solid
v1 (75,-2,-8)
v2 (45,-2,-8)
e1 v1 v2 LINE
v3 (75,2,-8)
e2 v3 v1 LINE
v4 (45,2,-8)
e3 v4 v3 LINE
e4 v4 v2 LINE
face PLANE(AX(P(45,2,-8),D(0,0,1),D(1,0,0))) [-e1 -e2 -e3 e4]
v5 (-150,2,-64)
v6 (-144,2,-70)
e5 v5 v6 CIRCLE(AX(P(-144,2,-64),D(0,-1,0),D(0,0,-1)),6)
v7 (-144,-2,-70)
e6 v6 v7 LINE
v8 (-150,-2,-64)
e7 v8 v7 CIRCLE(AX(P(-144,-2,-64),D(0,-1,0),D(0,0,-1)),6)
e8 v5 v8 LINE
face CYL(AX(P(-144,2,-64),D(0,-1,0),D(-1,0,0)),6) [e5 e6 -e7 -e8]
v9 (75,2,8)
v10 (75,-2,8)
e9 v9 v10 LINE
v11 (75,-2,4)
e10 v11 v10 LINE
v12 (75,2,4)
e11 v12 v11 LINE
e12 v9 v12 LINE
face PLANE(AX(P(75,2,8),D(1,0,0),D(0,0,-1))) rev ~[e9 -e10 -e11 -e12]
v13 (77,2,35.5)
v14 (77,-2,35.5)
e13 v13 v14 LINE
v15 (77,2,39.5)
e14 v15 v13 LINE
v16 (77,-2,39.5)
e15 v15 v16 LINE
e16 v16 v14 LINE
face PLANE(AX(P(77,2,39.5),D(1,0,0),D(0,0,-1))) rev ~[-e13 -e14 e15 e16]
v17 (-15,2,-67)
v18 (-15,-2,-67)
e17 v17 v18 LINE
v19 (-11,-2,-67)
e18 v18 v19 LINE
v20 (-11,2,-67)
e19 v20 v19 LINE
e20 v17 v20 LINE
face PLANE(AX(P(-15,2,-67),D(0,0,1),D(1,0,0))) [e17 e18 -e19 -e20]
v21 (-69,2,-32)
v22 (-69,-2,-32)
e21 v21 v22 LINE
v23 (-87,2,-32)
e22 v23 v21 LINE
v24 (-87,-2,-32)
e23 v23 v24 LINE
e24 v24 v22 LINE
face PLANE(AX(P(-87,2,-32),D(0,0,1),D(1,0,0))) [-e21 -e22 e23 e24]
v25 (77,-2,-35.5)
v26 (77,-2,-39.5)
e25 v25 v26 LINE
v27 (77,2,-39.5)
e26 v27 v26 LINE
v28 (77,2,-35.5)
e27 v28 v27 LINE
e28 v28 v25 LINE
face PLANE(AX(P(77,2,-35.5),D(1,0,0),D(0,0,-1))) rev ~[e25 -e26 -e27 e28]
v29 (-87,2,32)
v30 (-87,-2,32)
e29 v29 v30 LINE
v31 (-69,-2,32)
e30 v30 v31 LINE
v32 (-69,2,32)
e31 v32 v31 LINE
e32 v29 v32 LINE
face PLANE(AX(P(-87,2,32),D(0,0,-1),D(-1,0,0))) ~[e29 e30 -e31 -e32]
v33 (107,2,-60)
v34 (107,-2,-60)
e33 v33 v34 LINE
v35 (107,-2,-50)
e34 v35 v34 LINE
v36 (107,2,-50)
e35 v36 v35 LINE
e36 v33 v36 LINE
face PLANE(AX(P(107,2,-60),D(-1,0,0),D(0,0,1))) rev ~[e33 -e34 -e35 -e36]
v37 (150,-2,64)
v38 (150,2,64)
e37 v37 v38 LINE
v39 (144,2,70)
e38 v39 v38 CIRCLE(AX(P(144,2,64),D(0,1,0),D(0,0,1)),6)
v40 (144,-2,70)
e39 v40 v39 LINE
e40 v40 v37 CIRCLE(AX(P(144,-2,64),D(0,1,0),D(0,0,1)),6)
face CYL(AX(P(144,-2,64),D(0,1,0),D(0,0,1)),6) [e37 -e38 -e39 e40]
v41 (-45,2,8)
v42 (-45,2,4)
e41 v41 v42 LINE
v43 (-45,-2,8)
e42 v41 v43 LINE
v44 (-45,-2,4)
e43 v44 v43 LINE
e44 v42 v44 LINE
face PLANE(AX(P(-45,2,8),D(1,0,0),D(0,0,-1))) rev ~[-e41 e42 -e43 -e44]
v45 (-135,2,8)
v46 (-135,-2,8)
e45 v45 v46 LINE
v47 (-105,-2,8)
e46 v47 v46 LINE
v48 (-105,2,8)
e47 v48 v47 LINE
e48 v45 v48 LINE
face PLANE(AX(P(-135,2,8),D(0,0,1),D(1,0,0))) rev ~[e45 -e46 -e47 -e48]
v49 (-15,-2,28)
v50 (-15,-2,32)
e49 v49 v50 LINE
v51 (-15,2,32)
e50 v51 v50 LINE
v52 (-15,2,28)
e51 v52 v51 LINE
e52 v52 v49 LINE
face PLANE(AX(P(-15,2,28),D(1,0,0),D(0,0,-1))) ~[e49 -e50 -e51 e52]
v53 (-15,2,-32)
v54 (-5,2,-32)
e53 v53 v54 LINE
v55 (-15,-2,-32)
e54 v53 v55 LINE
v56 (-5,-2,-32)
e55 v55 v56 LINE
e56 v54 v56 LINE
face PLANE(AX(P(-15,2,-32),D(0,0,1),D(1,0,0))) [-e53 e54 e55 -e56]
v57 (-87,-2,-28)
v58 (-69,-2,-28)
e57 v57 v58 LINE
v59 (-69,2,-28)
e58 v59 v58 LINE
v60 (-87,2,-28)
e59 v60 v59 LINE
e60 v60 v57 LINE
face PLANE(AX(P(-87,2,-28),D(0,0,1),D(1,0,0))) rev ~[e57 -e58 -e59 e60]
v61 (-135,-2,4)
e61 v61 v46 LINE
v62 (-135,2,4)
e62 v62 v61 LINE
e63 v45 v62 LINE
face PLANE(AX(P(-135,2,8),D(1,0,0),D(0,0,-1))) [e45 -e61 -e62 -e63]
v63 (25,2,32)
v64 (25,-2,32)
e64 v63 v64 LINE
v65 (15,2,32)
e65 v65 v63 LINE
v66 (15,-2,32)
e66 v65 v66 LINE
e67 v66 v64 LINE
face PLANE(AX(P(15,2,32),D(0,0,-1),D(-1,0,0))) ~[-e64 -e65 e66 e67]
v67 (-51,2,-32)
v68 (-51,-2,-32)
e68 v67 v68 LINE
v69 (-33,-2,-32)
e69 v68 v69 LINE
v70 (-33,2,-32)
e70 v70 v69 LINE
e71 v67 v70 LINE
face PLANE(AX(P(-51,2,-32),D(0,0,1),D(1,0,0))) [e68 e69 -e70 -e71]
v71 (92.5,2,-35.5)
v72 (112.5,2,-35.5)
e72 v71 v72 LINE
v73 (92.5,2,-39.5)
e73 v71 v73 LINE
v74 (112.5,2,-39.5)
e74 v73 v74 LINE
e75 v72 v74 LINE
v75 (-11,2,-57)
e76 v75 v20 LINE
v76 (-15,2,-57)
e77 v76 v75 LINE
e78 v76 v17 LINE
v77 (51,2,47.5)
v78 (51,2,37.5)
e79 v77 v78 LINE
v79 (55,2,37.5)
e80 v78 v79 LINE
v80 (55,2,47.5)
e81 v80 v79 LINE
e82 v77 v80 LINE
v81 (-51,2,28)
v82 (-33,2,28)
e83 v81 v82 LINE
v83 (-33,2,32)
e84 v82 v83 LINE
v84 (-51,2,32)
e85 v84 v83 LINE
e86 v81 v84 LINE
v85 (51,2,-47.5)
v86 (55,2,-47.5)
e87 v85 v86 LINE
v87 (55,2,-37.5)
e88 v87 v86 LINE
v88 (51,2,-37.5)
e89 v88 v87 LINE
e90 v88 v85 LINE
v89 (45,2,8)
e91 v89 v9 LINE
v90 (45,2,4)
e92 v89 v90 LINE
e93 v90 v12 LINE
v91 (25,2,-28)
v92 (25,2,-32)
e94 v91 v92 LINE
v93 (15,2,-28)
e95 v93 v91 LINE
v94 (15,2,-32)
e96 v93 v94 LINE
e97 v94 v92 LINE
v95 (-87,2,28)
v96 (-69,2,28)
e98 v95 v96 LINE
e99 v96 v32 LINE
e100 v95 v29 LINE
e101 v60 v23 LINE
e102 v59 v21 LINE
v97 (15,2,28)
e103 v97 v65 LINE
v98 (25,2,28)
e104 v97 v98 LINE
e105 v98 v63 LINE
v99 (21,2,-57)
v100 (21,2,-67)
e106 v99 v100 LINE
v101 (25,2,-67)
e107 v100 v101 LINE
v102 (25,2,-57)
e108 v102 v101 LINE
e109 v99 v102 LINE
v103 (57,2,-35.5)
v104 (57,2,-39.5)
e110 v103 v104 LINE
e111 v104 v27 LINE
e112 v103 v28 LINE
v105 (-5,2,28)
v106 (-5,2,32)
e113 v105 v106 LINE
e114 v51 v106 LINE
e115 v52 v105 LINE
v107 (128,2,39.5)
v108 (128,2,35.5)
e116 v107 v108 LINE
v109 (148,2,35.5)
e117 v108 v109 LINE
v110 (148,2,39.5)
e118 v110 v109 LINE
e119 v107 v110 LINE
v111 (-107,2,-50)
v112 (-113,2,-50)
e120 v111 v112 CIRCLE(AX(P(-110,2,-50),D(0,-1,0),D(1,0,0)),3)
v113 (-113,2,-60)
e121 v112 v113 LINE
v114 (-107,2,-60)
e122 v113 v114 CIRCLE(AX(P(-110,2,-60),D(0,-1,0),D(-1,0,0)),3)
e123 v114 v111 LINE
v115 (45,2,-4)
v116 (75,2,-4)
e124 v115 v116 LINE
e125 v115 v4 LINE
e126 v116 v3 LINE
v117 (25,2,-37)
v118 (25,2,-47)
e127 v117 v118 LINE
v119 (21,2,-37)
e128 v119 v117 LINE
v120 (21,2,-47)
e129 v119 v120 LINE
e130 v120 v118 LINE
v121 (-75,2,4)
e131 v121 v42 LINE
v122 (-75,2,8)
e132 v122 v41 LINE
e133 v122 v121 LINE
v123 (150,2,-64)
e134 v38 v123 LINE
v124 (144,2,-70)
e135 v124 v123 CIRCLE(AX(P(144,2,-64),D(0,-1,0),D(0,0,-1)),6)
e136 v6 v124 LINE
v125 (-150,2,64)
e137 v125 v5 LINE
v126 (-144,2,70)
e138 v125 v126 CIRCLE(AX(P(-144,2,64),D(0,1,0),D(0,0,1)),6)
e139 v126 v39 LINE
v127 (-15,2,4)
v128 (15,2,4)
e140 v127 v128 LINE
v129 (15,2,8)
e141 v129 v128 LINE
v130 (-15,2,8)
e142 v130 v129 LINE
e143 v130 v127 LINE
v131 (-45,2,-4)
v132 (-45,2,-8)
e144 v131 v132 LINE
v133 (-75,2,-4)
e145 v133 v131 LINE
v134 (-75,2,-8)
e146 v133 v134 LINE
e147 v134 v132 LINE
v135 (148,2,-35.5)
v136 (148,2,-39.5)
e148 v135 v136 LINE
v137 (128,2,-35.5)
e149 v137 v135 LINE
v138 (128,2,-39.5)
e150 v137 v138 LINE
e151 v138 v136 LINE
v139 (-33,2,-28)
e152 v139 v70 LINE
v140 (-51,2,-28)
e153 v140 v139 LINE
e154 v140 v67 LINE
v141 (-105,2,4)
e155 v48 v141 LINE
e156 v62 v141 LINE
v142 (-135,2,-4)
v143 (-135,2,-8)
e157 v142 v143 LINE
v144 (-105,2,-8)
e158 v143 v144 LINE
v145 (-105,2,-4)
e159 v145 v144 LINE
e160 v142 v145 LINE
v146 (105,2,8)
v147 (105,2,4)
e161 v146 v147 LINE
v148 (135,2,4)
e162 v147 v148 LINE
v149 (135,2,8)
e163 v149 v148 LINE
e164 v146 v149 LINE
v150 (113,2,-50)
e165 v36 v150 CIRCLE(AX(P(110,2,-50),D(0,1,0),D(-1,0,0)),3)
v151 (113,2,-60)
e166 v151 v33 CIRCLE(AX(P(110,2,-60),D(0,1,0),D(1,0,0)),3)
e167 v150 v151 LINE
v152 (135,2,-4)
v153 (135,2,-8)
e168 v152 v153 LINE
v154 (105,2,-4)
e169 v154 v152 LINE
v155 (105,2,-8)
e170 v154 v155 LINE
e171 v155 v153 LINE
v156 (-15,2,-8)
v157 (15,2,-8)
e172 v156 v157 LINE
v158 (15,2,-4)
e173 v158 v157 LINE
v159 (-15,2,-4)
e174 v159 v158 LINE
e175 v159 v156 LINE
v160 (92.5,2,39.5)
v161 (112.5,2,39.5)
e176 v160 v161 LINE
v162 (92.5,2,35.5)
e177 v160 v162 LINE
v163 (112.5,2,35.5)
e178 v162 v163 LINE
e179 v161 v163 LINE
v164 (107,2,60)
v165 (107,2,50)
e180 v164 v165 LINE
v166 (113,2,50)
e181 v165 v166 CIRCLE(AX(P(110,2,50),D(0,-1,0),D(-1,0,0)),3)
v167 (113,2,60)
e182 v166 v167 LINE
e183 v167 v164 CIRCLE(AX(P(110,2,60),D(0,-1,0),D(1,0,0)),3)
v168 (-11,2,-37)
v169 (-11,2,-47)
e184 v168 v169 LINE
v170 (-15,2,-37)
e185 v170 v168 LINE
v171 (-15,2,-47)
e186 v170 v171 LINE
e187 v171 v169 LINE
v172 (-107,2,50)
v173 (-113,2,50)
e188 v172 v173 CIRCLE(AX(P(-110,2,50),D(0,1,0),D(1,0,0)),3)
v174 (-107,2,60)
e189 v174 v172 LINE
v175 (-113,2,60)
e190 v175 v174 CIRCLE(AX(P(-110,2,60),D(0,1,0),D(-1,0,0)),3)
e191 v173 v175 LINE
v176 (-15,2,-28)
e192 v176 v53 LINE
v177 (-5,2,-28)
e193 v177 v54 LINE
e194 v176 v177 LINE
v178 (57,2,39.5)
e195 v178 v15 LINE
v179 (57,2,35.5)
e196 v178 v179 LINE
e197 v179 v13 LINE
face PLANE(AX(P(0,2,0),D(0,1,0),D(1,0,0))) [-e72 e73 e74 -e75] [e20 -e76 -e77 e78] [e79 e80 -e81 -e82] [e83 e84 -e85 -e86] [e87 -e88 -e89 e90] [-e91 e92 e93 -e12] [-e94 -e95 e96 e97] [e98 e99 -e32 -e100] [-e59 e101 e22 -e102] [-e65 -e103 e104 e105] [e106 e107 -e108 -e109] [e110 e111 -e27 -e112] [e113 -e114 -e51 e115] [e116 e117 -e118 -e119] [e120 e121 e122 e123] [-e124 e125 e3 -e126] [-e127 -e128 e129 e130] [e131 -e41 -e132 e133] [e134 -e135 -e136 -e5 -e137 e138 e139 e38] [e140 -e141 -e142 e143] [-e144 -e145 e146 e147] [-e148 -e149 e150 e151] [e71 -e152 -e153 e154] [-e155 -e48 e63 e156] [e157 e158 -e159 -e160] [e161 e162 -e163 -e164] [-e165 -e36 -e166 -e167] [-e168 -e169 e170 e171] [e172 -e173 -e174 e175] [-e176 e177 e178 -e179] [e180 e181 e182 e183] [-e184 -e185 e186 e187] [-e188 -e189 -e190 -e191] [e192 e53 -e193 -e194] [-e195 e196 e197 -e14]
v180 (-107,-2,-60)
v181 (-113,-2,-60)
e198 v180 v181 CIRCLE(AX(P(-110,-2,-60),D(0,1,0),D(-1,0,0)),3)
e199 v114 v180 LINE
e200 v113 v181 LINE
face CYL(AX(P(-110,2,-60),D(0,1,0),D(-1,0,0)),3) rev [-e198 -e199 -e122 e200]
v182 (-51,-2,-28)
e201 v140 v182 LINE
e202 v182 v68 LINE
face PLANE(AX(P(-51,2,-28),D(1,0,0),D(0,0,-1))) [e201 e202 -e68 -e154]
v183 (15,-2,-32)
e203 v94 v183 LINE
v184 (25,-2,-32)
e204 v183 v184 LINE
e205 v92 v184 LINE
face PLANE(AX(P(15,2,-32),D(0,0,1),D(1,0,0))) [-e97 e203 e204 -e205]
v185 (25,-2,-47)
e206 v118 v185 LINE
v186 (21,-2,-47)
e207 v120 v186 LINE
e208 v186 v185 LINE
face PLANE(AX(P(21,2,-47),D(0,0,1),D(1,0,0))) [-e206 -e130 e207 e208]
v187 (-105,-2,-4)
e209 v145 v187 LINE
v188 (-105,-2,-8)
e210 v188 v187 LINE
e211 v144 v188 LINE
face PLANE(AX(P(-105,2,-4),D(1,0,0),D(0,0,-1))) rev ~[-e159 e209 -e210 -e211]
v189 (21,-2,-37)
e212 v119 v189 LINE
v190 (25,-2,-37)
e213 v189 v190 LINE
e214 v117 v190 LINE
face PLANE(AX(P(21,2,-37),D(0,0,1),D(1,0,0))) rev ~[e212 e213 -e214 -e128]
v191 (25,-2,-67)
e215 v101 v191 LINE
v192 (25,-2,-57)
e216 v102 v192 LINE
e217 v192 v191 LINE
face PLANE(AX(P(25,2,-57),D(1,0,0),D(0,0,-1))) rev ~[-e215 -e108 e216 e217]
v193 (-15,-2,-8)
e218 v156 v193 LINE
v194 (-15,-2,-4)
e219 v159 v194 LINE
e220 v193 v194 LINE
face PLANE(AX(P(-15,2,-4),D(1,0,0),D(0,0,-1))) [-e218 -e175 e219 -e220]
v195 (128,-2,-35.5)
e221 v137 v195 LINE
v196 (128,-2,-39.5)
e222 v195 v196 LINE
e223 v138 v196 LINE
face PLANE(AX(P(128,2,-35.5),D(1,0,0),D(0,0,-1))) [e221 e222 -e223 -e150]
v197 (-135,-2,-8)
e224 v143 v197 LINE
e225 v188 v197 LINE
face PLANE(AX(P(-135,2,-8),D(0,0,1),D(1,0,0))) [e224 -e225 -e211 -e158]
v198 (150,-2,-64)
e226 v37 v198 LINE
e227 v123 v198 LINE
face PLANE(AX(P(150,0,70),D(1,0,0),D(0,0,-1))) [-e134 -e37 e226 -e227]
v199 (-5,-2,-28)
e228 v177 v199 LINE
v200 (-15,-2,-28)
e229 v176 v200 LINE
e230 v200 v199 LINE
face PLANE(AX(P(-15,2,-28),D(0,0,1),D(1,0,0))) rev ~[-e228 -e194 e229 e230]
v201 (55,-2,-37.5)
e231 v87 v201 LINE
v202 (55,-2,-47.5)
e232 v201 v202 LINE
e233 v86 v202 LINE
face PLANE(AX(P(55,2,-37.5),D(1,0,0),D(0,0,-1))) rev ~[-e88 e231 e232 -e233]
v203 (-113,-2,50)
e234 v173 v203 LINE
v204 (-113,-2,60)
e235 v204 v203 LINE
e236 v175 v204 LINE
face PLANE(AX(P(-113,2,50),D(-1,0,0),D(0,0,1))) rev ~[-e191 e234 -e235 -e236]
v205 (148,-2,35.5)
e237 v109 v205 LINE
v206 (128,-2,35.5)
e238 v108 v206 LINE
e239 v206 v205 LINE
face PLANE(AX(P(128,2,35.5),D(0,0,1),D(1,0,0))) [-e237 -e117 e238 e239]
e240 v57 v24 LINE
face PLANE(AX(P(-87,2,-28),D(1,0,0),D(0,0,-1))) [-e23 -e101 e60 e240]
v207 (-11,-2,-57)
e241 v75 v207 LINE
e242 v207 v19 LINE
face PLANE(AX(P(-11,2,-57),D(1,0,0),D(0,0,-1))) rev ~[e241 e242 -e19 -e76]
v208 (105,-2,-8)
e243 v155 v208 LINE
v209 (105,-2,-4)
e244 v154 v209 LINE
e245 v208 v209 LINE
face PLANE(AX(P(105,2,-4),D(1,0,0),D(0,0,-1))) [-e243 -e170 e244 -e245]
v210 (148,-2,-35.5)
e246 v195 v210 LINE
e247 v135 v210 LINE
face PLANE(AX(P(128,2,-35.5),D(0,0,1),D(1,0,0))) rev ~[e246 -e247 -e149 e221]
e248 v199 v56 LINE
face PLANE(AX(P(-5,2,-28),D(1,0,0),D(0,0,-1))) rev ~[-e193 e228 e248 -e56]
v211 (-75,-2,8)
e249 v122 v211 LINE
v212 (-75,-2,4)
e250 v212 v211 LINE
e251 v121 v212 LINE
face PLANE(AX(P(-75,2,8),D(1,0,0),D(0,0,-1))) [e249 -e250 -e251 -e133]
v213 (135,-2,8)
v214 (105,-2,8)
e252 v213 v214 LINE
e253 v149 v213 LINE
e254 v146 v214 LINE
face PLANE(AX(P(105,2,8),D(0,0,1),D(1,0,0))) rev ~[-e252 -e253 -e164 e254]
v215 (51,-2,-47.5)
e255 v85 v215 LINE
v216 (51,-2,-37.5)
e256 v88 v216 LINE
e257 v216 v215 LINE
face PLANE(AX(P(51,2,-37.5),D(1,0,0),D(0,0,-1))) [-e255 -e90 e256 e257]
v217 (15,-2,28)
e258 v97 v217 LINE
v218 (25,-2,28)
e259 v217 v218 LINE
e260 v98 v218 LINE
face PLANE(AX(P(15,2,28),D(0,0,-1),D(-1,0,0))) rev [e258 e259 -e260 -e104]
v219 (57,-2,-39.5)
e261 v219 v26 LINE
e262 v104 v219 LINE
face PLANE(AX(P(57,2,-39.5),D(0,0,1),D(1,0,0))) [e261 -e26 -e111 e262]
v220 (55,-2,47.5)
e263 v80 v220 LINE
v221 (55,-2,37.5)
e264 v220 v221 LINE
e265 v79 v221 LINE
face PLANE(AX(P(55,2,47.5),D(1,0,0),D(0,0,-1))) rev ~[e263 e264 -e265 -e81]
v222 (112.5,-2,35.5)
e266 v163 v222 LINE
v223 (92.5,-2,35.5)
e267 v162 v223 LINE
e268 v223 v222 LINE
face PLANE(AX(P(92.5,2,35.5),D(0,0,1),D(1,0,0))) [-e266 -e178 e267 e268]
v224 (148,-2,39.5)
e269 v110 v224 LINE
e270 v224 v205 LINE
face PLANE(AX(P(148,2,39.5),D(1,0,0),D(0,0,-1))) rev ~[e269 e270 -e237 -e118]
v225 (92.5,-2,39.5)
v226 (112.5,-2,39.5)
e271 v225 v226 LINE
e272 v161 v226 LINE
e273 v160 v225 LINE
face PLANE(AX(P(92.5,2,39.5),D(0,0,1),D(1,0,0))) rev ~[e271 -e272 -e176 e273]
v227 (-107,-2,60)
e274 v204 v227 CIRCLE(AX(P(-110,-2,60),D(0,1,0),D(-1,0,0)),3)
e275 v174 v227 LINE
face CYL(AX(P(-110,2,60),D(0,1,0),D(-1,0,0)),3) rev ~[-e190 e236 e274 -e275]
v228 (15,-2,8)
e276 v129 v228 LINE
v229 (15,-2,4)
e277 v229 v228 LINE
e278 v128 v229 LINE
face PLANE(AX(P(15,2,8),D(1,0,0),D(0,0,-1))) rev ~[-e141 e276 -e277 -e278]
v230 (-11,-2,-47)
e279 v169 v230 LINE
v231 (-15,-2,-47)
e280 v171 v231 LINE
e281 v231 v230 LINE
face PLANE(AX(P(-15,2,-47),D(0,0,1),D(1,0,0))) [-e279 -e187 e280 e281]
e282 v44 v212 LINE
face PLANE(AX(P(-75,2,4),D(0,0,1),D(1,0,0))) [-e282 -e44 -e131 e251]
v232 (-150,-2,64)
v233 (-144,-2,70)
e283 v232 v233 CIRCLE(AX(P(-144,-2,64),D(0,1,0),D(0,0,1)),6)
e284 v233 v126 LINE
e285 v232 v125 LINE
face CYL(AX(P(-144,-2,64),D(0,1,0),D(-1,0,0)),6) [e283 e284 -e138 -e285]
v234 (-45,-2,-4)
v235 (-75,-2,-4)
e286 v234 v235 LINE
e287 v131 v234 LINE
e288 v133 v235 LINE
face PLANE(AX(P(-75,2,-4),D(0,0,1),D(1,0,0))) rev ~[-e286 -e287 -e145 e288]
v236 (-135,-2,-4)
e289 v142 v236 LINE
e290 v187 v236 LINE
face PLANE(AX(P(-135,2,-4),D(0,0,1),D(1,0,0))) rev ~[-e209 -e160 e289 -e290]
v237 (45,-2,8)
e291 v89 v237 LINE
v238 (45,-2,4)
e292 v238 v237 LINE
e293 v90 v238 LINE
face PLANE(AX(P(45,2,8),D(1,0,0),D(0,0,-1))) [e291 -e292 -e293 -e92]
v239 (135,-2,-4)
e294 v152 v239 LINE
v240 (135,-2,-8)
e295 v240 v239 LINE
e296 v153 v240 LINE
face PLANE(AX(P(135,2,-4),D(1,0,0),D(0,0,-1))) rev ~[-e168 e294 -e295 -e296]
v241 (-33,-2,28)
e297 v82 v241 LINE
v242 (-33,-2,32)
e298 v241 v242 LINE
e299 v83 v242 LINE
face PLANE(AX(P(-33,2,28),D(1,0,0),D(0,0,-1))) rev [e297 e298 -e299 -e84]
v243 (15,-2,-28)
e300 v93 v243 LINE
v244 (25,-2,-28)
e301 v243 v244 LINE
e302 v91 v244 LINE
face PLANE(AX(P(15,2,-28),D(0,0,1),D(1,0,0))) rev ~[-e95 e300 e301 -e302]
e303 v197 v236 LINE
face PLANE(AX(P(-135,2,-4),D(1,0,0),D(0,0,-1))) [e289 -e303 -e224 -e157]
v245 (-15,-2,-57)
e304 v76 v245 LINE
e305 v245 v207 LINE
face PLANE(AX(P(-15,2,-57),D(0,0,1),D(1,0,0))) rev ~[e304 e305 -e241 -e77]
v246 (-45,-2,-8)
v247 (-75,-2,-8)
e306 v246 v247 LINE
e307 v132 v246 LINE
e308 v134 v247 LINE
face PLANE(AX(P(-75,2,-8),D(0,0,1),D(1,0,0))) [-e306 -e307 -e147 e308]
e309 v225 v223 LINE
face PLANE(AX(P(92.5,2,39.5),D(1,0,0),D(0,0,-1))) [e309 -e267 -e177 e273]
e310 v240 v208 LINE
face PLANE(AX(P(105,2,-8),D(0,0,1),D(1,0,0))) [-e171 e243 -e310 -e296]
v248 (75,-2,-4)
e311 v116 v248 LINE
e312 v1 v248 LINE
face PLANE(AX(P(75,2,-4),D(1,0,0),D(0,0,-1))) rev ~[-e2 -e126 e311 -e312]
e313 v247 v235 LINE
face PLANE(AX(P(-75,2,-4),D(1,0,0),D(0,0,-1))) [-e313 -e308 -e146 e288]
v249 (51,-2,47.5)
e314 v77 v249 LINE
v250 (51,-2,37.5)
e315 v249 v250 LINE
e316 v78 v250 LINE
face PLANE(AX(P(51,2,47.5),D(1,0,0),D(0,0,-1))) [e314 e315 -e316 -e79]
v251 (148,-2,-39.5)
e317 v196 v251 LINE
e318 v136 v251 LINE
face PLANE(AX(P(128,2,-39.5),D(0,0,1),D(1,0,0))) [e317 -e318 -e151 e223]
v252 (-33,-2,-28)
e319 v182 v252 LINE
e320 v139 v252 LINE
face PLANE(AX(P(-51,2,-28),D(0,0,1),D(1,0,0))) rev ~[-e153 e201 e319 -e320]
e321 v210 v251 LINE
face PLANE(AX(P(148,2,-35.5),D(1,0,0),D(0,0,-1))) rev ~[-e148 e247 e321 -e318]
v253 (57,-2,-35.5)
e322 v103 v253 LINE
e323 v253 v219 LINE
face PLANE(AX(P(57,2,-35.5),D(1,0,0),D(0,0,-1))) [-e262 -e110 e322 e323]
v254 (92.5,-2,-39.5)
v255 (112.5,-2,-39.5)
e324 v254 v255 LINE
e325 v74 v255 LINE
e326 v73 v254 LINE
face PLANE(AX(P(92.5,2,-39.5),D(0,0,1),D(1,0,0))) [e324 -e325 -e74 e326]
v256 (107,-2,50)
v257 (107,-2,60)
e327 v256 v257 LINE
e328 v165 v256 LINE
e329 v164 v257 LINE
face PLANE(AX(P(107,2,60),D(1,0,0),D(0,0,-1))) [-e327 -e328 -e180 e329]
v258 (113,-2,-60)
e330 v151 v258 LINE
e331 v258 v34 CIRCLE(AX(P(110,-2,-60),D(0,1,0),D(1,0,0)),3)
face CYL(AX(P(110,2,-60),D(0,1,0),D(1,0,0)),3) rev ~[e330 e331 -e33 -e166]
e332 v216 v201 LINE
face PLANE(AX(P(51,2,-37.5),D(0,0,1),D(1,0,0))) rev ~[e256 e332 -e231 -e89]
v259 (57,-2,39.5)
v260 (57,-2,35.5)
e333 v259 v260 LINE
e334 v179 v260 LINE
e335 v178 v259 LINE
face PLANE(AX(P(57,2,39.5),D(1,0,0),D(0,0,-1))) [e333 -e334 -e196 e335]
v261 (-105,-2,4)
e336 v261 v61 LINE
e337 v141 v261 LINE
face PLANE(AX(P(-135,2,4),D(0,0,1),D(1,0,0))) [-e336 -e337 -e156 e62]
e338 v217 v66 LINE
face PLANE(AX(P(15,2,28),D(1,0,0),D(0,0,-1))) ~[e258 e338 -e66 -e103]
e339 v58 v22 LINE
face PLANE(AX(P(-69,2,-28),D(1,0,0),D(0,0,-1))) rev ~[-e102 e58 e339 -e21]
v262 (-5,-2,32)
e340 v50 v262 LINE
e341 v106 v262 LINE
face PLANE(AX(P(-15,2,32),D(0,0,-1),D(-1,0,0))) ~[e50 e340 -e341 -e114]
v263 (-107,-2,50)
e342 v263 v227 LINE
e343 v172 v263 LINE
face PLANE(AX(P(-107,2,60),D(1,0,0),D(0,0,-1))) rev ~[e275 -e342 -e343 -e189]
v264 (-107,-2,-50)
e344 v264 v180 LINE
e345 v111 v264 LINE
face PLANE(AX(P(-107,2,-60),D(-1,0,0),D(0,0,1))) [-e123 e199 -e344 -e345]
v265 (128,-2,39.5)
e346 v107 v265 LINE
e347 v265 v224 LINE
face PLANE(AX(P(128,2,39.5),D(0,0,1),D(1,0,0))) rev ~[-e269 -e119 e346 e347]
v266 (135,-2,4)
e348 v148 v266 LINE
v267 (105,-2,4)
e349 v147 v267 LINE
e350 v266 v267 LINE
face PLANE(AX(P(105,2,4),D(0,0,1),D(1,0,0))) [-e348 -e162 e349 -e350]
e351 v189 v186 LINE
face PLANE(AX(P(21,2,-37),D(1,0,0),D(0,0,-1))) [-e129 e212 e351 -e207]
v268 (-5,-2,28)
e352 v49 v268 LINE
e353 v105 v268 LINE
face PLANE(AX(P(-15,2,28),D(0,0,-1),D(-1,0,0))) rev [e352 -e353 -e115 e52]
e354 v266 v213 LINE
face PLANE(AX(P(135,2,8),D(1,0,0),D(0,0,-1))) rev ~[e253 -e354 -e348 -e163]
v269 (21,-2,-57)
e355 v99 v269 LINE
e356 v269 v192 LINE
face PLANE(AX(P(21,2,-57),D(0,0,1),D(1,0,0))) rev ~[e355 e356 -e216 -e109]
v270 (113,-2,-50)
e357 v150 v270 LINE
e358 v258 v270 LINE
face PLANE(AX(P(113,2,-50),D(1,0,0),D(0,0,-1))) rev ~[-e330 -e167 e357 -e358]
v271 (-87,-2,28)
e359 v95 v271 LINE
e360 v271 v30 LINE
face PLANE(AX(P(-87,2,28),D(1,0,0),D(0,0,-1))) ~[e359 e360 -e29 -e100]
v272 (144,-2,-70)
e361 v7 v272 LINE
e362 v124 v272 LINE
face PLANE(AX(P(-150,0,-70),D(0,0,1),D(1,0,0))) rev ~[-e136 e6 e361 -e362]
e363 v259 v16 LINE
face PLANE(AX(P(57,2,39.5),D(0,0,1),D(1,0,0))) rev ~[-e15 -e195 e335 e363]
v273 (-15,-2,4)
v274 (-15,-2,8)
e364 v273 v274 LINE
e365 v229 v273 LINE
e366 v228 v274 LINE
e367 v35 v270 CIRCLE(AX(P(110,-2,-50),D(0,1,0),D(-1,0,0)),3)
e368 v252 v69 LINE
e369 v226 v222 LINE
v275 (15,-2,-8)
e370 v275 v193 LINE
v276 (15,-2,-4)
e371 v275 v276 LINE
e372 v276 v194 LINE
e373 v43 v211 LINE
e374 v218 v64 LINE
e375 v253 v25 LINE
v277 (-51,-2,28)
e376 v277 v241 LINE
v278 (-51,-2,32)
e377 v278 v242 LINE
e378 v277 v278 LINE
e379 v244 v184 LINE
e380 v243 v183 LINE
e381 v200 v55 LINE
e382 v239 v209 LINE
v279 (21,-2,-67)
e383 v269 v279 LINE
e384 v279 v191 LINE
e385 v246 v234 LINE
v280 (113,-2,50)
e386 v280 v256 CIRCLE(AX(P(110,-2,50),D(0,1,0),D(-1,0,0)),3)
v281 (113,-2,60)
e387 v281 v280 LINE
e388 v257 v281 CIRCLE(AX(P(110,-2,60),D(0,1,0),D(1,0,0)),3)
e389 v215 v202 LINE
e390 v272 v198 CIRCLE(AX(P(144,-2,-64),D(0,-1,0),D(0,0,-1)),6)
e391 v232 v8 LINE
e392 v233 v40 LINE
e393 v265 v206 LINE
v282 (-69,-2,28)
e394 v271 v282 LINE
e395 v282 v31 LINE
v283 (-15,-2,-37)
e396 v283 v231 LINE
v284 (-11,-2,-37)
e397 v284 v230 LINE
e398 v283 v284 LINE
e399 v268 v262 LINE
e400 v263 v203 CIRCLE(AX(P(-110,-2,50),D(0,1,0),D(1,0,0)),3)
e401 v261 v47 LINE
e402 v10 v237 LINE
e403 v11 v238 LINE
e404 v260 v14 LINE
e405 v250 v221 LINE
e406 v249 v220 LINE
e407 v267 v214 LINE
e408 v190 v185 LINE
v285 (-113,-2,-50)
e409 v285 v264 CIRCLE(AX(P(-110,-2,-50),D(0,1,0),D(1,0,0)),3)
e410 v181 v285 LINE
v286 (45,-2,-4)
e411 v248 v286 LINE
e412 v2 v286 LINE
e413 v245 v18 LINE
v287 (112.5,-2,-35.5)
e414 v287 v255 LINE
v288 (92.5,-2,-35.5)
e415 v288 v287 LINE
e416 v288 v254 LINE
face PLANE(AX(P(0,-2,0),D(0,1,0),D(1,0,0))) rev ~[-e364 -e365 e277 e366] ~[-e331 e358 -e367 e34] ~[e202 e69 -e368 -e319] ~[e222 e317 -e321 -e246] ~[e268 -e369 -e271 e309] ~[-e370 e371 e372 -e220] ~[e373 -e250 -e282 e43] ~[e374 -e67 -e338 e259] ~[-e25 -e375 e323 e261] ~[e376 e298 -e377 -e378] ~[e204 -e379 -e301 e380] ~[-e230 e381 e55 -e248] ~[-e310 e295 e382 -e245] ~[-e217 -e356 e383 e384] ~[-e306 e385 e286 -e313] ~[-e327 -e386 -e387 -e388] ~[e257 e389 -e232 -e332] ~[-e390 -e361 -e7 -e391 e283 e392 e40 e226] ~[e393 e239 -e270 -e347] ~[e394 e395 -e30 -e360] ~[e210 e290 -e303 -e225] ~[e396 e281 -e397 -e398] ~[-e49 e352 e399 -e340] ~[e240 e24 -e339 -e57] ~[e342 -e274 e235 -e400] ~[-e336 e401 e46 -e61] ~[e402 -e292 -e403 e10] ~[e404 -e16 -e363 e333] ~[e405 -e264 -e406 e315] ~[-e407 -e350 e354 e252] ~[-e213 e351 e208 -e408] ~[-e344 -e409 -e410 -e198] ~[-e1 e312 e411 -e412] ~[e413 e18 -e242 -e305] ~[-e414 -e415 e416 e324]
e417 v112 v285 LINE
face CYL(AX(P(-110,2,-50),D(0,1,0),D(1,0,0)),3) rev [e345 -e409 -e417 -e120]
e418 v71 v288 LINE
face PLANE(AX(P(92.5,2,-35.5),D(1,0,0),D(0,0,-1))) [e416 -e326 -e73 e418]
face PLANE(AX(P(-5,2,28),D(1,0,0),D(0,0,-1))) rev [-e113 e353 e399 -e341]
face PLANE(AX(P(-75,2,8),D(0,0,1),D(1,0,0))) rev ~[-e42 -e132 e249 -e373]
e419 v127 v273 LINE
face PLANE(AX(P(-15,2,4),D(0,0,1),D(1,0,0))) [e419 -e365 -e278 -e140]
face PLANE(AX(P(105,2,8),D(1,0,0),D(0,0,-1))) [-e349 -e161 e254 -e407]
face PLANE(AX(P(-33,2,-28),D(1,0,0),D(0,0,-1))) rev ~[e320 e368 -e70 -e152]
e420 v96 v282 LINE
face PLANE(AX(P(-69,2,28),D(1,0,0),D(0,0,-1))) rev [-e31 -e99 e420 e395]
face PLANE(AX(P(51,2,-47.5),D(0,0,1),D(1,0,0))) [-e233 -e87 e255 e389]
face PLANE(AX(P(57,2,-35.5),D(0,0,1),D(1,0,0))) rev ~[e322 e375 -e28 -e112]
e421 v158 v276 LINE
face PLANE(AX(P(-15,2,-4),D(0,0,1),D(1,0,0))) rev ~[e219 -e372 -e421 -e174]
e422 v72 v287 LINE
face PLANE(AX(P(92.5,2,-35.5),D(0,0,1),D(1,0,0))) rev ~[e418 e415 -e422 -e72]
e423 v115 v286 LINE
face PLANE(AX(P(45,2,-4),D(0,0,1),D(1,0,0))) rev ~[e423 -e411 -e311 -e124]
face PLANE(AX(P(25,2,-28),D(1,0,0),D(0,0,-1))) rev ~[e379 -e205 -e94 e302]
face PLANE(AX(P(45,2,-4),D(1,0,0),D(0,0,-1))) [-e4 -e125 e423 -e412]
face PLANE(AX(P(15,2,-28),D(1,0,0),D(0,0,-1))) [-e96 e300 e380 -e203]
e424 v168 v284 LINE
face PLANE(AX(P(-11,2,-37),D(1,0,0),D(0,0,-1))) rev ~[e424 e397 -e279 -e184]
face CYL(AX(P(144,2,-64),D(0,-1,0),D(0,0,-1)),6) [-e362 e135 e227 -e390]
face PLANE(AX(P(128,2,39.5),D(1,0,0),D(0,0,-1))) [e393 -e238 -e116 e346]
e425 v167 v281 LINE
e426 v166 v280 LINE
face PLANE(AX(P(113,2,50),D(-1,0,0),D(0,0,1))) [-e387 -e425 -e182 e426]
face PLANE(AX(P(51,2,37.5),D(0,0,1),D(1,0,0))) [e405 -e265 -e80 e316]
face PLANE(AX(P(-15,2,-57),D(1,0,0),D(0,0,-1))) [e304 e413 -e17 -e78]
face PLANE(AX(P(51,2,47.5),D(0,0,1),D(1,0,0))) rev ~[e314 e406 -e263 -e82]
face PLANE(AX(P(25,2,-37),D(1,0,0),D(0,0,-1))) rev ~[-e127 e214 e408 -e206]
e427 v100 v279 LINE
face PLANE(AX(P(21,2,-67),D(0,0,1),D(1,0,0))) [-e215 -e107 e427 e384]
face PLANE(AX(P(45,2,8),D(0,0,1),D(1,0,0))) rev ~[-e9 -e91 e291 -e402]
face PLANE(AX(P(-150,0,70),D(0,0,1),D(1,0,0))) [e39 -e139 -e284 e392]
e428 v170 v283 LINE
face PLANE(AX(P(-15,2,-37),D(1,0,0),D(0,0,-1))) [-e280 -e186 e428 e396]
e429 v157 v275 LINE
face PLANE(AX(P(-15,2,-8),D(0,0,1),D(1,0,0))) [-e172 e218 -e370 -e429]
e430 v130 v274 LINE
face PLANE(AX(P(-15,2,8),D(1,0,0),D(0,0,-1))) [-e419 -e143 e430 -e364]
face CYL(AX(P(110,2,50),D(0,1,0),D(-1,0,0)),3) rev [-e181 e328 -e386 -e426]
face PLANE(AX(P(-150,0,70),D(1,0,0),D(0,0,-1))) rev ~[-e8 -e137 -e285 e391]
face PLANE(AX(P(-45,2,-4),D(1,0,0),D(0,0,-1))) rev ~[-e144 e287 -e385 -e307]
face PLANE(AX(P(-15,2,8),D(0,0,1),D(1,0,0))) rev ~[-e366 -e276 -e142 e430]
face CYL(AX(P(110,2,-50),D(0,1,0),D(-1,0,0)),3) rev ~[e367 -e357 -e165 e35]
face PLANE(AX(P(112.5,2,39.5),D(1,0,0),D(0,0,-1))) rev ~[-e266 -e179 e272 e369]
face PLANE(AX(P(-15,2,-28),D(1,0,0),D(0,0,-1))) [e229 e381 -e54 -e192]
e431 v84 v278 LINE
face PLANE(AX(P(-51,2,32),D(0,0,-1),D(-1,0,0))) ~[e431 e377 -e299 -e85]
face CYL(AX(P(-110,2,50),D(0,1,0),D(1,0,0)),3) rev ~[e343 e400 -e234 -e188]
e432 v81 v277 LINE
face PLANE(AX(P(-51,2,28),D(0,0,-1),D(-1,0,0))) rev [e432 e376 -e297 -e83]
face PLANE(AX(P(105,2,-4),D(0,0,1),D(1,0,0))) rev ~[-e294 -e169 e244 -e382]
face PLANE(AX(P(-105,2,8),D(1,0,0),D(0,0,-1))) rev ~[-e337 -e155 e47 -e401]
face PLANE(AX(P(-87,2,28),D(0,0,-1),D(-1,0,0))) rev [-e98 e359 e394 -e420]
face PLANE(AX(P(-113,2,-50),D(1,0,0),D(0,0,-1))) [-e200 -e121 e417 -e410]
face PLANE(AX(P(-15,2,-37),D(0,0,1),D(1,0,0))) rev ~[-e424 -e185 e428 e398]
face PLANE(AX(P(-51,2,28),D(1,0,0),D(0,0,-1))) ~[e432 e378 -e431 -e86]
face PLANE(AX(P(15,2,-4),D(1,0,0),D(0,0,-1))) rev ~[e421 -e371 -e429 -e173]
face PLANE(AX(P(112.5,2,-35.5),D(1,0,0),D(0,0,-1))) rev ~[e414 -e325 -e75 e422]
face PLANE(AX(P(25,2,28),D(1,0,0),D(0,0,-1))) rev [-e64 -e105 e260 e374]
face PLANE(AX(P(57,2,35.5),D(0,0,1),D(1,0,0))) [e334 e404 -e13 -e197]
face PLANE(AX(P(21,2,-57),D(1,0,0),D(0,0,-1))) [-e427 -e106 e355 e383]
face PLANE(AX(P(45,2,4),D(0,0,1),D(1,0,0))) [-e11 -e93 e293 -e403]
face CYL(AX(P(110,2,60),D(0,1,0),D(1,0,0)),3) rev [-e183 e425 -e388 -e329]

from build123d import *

# Parameters (mm, degrees)
SKETCH1_W           = 300
SKETCH1_H           = 140
BOSS_EXTRUDE1_DEPTH = 2
CUT_EXTRUDE1_REACH  = 167.578
CUT_EXTRUDE2_REACH  = 167.578
SKETCH3_W           = 30
SKETCH3_H           = 4
FILLET1_R           = 6
SKETCH4_W           = 10
SKETCH4_H           = 4
CUT_EXTRUDE3_DEPTH  = 166.577776287
SKETCH5_W           = 4
SKETCH5_H           = 10
CUT_EXTRUDE4_DEPTH  = 166.577776287
SKETCH6_W           = 18
SKETCH6_H           = 4
CUT_EXTRUDE5_DEPTH  = 166.577776287
SKETCH7_W           = 20
SKETCH7_H           = 4
SKETCH7_W_2         = 4
SKETCH7_H_2         = 10
CUT_EXTRUDE6_DEPTH  = 166.577776287


with BuildPart() as part:
    # Sketch1 → Boss-Extrude1 (new, symmetric)
    with BuildSketch(Plane(origin=(0, 0, 0), x_dir=(1, 0, 0), z_dir=(0, 1, 0))):
        Rectangle(SKETCH1_W, SKETCH1_H)
    extrude(amount=BOSS_EXTRUDE1_DEPTH, both=True)

    # Sketch2 → Cut-Extrude1 (cut, up to next)
    with BuildSketch(Plane(origin=(0, 2, 0), x_dir=(1, 0, 0), z_dir=(0, 1, 0)), mode=Mode.PRIVATE) as cut_extrude1_sk1:
        with BuildLine():
            Line((-107, 60), (-107, 50))
            ThreePointArc((-107, 50), (-110, 47), (-113, 50))
            Line((-113, 50), (-113, 60))
            ThreePointArc((-113, 60), (-110, 63), (-107, 60))
        make_face()
    cut_extrude1_tool1 = extrude(cut_extrude1_sk1.sketch, amount=-CUT_EXTRUDE1_REACH, mode=Mode.PRIVATE) & part.part
    # Sketch2 → Cut-Extrude1 (cut, up to next)
    with BuildSketch(Plane(origin=(0, 2, 0), x_dir=(1, 0, 0), z_dir=(0, 1, 0)), mode=Mode.PRIVATE) as cut_extrude1_sk2:
        with BuildLine():
            Line((107, 60), (107, 50))
            ThreePointArc((107, 50), (110, 47), (113, 50))
            Line((113, 50), (113, 60))
            ThreePointArc((113, 60), (110, 63), (107, 60))
        make_face()
    cut_extrude1_tool2 = extrude(cut_extrude1_sk2.sketch, amount=-CUT_EXTRUDE1_REACH, mode=Mode.PRIVATE) & part.part
    # Sketch2 → Cut-Extrude1 (cut, up to next)
    with BuildSketch(Plane(origin=(0, 2, 0), x_dir=(1, 0, 0), z_dir=(0, 1, 0)), mode=Mode.PRIVATE) as cut_extrude1_sk3:
        with BuildLine():
            Line((107, -60), (107, -50))
            ThreePointArc((107, -50), (110, -47), (113, -50))
            Line((113, -50), (113, -60))
            ThreePointArc((113, -60), (110, -63), (107, -60))
        make_face()
    cut_extrude1_tool3 = extrude(cut_extrude1_sk3.sketch, amount=-CUT_EXTRUDE1_REACH, mode=Mode.PRIVATE) & part.part
    # Sketch2 → Cut-Extrude1 (cut, up to next)
    with BuildSketch(Plane(origin=(0, 2, 0), x_dir=(1, 0, 0), z_dir=(0, 1, 0)), mode=Mode.PRIVATE) as cut_extrude1_sk4:
        with BuildLine():
            Line((-107, -60), (-107, -50))
            ThreePointArc((-107, -50), (-110, -47), (-113, -50))
            Line((-113, -50), (-113, -60))
            ThreePointArc((-113, -60), (-110, -63), (-107, -60))
        make_face()
    cut_extrude1_tool4 = extrude(cut_extrude1_sk4.sketch, amount=-CUT_EXTRUDE1_REACH, mode=Mode.PRIVATE) & part.part
    add(cut_extrude1_tool1.solids().sort_by_distance((-110, 2, -55))[0], mode=Mode.SUBTRACT)
    add(cut_extrude1_tool2.solids().sort_by_distance((110, 2, -55))[0], mode=Mode.SUBTRACT)
    add(cut_extrude1_tool3.solids().sort_by_distance((110, 2, 55))[0], mode=Mode.SUBTRACT)
    add(cut_extrude1_tool4.solids().sort_by_distance((-110, 2, 55))[0], mode=Mode.SUBTRACT)

    # Sketch3 → Cut-Extrude2 (cut, up to next)
    with BuildSketch(Plane(origin=(0, 2, 0), x_dir=(1, 0, 0), z_dir=(0, 1, 0)), mode=Mode.PRIVATE) as cut_extrude2_sk1:
        with Locations((-60, 6)):
            Rectangle(SKETCH3_W, SKETCH3_H)
    cut_extrude2_tool1 = extrude(cut_extrude2_sk1.sketch, amount=-CUT_EXTRUDE2_REACH, mode=Mode.PRIVATE) & part.part
    # Sketch3 → Cut-Extrude2 (cut, up to next)
    with BuildSketch(Plane(origin=(0, 2, 0), x_dir=(1, 0, 0), z_dir=(0, 1, 0)), mode=Mode.PRIVATE) as cut_extrude2_sk2:
        with Locations((-120, 6)):
            Rectangle(SKETCH3_W, SKETCH3_H)
    cut_extrude2_tool2 = extrude(cut_extrude2_sk2.sketch, amount=-CUT_EXTRUDE2_REACH, mode=Mode.PRIVATE) & part.part
    # Sketch3 → Cut-Extrude2 (cut, up to next)
    with BuildSketch(Plane(origin=(0, 2, 0), x_dir=(1, 0, 0), z_dir=(0, 1, 0)), mode=Mode.PRIVATE) as cut_extrude2_sk3:
        with Locations((0, 6)):
            Rectangle(SKETCH3_W, SKETCH3_H)
    cut_extrude2_tool3 = extrude(cut_extrude2_sk3.sketch, amount=-CUT_EXTRUDE2_REACH, mode=Mode.PRIVATE) & part.part
    # Sketch3 → Cut-Extrude2 (cut, up to next)
    with BuildSketch(Plane(origin=(0, 2, 0), x_dir=(1, 0, 0), z_dir=(0, 1, 0)), mode=Mode.PRIVATE) as cut_extrude2_sk4:
        with Locations((60, 6)):
            Rectangle(SKETCH3_W, SKETCH3_H)
    cut_extrude2_tool4 = extrude(cut_extrude2_sk4.sketch, amount=-CUT_EXTRUDE2_REACH, mode=Mode.PRIVATE) & part.part
    # Sketch3 → Cut-Extrude2 (cut, up to next)
    with BuildSketch(Plane(origin=(0, 2, 0), x_dir=(1, 0, 0), z_dir=(0, 1, 0)), mode=Mode.PRIVATE) as cut_extrude2_sk5:
        with Locations((120, 6)):
            Rectangle(SKETCH3_W, SKETCH3_H)
    cut_extrude2_tool5 = extrude(cut_extrude2_sk5.sketch, amount=-CUT_EXTRUDE2_REACH, mode=Mode.PRIVATE) & part.part
    # Sketch3 → Cut-Extrude2 (cut, up to next)
    with BuildSketch(Plane(origin=(0, 2, 0), x_dir=(1, 0, 0), z_dir=(0, 1, 0)), mode=Mode.PRIVATE) as cut_extrude2_sk6:
        with Locations((120, -6)):
            Rectangle(SKETCH3_W, SKETCH3_H)
    cut_extrude2_tool6 = extrude(cut_extrude2_sk6.sketch, amount=-CUT_EXTRUDE2_REACH, mode=Mode.PRIVATE) & part.part
    # Sketch3 → Cut-Extrude2 (cut, up to next)
    with BuildSketch(Plane(origin=(0, 2, 0), x_dir=(1, 0, 0), z_dir=(0, 1, 0)), mode=Mode.PRIVATE) as cut_extrude2_sk7:
        with Locations((60, -6)):
            Rectangle(SKETCH3_W, SKETCH3_H)
    cut_extrude2_tool7 = extrude(cut_extrude2_sk7.sketch, amount=-CUT_EXTRUDE2_REACH, mode=Mode.PRIVATE) & part.part
    # Sketch3 → Cut-Extrude2 (cut, up to next)
    with BuildSketch(Plane(origin=(0, 2, 0), x_dir=(1, 0, 0), z_dir=(0, 1, 0)), mode=Mode.PRIVATE) as cut_extrude2_sk8:
        with Locations((0, -6)):
            Rectangle(SKETCH3_W, SKETCH3_H)
    cut_extrude2_tool8 = extrude(cut_extrude2_sk8.sketch, amount=-CUT_EXTRUDE2_REACH, mode=Mode.PRIVATE) & part.part
    # Sketch3 → Cut-Extrude2 (cut, up to next)
    with BuildSketch(Plane(origin=(0, 2, 0), x_dir=(1, 0, 0), z_dir=(0, 1, 0)), mode=Mode.PRIVATE) as cut_extrude2_sk9:
        with Locations((-60, -6)):
            Rectangle(SKETCH3_W, SKETCH3_H)
    cut_extrude2_tool9 = extrude(cut_extrude2_sk9.sketch, amount=-CUT_EXTRUDE2_REACH, mode=Mode.PRIVATE) & part.part
    # Sketch3 → Cut-Extrude2 (cut, up to next)
    with BuildSketch(Plane(origin=(0, 2, 0), x_dir=(1, 0, 0), z_dir=(0, 1, 0)), mode=Mode.PRIVATE) as cut_extrude2_sk10:
        with Locations((-120, -6)):
            Rectangle(SKETCH3_W, SKETCH3_H)
    cut_extrude2_tool10 = extrude(cut_extrude2_sk10.sketch, amount=-CUT_EXTRUDE2_REACH, mode=Mode.PRIVATE) & part.part
    add(cut_extrude2_tool1.solids().sort_by_distance((-60, 2, -6))[0], mode=Mode.SUBTRACT)
    add(cut_extrude2_tool2.solids().sort_by_distance((-120, 2, -6))[0], mode=Mode.SUBTRACT)
    add(cut_extrude2_tool3.solids().sort_by_distance((0, 2, -6))[0], mode=Mode.SUBTRACT)
    add(cut_extrude2_tool4.solids().sort_by_distance((60, 2, -6))[0], mode=Mode.SUBTRACT)
    add(cut_extrude2_tool5.solids().sort_by_distance((120, 2, -6))[0], mode=Mode.SUBTRACT)
    add(cut_extrude2_tool6.solids().sort_by_distance((120, 2, 6))[0], mode=Mode.SUBTRACT)
    add(cut_extrude2_tool7.solids().sort_by_distance((60, 2, 6))[0], mode=Mode.SUBTRACT)
    add(cut_extrude2_tool8.solids().sort_by_distance((0, 2, 6))[0], mode=Mode.SUBTRACT)
    add(cut_extrude2_tool9.solids().sort_by_distance((-60, 2, 6))[0], mode=Mode.SUBTRACT)
    add(cut_extrude2_tool10.solids().sort_by_distance((-120, 2, 6))[0], mode=Mode.SUBTRACT)

    # Fillet1
    fillet1_edges = [part.edges().sort_by_distance(p)[0] for p in [
        (150, 0, 70),
        (-150, 0, 70),
        (-150, 0, -70),
        (150, 0, -70),
    ]]
    fillet(fillet1_edges, radius=FILLET1_R)

    # Sketch4 → Cut-Extrude3 (cut, through all)
    with BuildSketch(Plane(origin=(0, 2, 0), x_dir=(1, 0, 0), z_dir=(0, 1, 0))):
        with Locations((20, 30)):
            Rectangle(SKETCH4_W, SKETCH4_H)
        with Locations((-10, 30)):
            Rectangle(SKETCH4_W, SKETCH4_H)
    cut_extrude3 = extrude(amount=-CUT_EXTRUDE3_DEPTH, mode=Mode.SUBTRACT)

    # Sketch5 → Cut-Extrude4 (cut, through all)
    with BuildSketch(Plane(origin=(0, 2, 0), x_dir=(1, 0, 0), z_dir=(0, 1, 0))):
        with Locations((23, 42)):
            Rectangle(SKETCH5_W, SKETCH5_H)
        with Locations((-13, 42)):
            Rectangle(SKETCH5_W, SKETCH5_H)
        with Locations((-13, 62)):
            Rectangle(SKETCH5_W, SKETCH5_H)
        with Locations((23, 62)):
            Rectangle(SKETCH5_W, SKETCH5_H)
    extrude(amount=-CUT_EXTRUDE4_DEPTH, mode=Mode.SUBTRACT)

    # Sketch6 → Cut-Extrude5 (cut, through all)
    with BuildSketch(Plane(origin=(0, 2, 0), x_dir=(1, 0, 0), z_dir=(0, 1, 0))):
        with Locations((-42, 30)):
            Rectangle(SKETCH6_W, SKETCH6_H)
        with Locations((-78, 30)):
            Rectangle(SKETCH6_W, SKETCH6_H)
    cut_extrude5 = extrude(amount=-CUT_EXTRUDE5_DEPTH, mode=Mode.SUBTRACT)

    # Mirror1: Cut-Extrude3, Cut-Extrude5 across plane
    add(cut_extrude3.mirror(Plane.XY), mode=Mode.SUBTRACT)
    add(cut_extrude5.mirror(Plane.XY), mode=Mode.SUBTRACT)

    # Sketch7 → Cut-Extrude6 (cut, through all)
    with BuildSketch(Plane(origin=(0, 2, 0), x_dir=(1, 0, 0), z_dir=(0, 1, 0))):
        with Locations((67, 37.5)):
            Rectangle(SKETCH7_W, SKETCH7_H)
        with Locations((102.5, 37.5)):
            Rectangle(SKETCH7_W, SKETCH7_H)
        with Locations((138, 37.5)):
            Rectangle(SKETCH7_W, SKETCH7_H)
        with Locations((67, -37.5)):
            Rectangle(SKETCH7_W, SKETCH7_H)
        with Locations((102.5, -37.5)):
            Rectangle(SKETCH7_W, SKETCH7_H)
        with Locations((138, -37.5)):
            Rectangle(SKETCH7_W, SKETCH7_H)
        with Locations((53, 42.5)):
            Rectangle(SKETCH7_W_2, SKETCH7_H_2)
        with Locations((53, -42.5)):
            Rectangle(SKETCH7_W_2, SKETCH7_H_2)
    extrude(amount=-CUT_EXTRUDE6_DEPTH, mode=Mode.SUBTRACT)


solid = part.part
